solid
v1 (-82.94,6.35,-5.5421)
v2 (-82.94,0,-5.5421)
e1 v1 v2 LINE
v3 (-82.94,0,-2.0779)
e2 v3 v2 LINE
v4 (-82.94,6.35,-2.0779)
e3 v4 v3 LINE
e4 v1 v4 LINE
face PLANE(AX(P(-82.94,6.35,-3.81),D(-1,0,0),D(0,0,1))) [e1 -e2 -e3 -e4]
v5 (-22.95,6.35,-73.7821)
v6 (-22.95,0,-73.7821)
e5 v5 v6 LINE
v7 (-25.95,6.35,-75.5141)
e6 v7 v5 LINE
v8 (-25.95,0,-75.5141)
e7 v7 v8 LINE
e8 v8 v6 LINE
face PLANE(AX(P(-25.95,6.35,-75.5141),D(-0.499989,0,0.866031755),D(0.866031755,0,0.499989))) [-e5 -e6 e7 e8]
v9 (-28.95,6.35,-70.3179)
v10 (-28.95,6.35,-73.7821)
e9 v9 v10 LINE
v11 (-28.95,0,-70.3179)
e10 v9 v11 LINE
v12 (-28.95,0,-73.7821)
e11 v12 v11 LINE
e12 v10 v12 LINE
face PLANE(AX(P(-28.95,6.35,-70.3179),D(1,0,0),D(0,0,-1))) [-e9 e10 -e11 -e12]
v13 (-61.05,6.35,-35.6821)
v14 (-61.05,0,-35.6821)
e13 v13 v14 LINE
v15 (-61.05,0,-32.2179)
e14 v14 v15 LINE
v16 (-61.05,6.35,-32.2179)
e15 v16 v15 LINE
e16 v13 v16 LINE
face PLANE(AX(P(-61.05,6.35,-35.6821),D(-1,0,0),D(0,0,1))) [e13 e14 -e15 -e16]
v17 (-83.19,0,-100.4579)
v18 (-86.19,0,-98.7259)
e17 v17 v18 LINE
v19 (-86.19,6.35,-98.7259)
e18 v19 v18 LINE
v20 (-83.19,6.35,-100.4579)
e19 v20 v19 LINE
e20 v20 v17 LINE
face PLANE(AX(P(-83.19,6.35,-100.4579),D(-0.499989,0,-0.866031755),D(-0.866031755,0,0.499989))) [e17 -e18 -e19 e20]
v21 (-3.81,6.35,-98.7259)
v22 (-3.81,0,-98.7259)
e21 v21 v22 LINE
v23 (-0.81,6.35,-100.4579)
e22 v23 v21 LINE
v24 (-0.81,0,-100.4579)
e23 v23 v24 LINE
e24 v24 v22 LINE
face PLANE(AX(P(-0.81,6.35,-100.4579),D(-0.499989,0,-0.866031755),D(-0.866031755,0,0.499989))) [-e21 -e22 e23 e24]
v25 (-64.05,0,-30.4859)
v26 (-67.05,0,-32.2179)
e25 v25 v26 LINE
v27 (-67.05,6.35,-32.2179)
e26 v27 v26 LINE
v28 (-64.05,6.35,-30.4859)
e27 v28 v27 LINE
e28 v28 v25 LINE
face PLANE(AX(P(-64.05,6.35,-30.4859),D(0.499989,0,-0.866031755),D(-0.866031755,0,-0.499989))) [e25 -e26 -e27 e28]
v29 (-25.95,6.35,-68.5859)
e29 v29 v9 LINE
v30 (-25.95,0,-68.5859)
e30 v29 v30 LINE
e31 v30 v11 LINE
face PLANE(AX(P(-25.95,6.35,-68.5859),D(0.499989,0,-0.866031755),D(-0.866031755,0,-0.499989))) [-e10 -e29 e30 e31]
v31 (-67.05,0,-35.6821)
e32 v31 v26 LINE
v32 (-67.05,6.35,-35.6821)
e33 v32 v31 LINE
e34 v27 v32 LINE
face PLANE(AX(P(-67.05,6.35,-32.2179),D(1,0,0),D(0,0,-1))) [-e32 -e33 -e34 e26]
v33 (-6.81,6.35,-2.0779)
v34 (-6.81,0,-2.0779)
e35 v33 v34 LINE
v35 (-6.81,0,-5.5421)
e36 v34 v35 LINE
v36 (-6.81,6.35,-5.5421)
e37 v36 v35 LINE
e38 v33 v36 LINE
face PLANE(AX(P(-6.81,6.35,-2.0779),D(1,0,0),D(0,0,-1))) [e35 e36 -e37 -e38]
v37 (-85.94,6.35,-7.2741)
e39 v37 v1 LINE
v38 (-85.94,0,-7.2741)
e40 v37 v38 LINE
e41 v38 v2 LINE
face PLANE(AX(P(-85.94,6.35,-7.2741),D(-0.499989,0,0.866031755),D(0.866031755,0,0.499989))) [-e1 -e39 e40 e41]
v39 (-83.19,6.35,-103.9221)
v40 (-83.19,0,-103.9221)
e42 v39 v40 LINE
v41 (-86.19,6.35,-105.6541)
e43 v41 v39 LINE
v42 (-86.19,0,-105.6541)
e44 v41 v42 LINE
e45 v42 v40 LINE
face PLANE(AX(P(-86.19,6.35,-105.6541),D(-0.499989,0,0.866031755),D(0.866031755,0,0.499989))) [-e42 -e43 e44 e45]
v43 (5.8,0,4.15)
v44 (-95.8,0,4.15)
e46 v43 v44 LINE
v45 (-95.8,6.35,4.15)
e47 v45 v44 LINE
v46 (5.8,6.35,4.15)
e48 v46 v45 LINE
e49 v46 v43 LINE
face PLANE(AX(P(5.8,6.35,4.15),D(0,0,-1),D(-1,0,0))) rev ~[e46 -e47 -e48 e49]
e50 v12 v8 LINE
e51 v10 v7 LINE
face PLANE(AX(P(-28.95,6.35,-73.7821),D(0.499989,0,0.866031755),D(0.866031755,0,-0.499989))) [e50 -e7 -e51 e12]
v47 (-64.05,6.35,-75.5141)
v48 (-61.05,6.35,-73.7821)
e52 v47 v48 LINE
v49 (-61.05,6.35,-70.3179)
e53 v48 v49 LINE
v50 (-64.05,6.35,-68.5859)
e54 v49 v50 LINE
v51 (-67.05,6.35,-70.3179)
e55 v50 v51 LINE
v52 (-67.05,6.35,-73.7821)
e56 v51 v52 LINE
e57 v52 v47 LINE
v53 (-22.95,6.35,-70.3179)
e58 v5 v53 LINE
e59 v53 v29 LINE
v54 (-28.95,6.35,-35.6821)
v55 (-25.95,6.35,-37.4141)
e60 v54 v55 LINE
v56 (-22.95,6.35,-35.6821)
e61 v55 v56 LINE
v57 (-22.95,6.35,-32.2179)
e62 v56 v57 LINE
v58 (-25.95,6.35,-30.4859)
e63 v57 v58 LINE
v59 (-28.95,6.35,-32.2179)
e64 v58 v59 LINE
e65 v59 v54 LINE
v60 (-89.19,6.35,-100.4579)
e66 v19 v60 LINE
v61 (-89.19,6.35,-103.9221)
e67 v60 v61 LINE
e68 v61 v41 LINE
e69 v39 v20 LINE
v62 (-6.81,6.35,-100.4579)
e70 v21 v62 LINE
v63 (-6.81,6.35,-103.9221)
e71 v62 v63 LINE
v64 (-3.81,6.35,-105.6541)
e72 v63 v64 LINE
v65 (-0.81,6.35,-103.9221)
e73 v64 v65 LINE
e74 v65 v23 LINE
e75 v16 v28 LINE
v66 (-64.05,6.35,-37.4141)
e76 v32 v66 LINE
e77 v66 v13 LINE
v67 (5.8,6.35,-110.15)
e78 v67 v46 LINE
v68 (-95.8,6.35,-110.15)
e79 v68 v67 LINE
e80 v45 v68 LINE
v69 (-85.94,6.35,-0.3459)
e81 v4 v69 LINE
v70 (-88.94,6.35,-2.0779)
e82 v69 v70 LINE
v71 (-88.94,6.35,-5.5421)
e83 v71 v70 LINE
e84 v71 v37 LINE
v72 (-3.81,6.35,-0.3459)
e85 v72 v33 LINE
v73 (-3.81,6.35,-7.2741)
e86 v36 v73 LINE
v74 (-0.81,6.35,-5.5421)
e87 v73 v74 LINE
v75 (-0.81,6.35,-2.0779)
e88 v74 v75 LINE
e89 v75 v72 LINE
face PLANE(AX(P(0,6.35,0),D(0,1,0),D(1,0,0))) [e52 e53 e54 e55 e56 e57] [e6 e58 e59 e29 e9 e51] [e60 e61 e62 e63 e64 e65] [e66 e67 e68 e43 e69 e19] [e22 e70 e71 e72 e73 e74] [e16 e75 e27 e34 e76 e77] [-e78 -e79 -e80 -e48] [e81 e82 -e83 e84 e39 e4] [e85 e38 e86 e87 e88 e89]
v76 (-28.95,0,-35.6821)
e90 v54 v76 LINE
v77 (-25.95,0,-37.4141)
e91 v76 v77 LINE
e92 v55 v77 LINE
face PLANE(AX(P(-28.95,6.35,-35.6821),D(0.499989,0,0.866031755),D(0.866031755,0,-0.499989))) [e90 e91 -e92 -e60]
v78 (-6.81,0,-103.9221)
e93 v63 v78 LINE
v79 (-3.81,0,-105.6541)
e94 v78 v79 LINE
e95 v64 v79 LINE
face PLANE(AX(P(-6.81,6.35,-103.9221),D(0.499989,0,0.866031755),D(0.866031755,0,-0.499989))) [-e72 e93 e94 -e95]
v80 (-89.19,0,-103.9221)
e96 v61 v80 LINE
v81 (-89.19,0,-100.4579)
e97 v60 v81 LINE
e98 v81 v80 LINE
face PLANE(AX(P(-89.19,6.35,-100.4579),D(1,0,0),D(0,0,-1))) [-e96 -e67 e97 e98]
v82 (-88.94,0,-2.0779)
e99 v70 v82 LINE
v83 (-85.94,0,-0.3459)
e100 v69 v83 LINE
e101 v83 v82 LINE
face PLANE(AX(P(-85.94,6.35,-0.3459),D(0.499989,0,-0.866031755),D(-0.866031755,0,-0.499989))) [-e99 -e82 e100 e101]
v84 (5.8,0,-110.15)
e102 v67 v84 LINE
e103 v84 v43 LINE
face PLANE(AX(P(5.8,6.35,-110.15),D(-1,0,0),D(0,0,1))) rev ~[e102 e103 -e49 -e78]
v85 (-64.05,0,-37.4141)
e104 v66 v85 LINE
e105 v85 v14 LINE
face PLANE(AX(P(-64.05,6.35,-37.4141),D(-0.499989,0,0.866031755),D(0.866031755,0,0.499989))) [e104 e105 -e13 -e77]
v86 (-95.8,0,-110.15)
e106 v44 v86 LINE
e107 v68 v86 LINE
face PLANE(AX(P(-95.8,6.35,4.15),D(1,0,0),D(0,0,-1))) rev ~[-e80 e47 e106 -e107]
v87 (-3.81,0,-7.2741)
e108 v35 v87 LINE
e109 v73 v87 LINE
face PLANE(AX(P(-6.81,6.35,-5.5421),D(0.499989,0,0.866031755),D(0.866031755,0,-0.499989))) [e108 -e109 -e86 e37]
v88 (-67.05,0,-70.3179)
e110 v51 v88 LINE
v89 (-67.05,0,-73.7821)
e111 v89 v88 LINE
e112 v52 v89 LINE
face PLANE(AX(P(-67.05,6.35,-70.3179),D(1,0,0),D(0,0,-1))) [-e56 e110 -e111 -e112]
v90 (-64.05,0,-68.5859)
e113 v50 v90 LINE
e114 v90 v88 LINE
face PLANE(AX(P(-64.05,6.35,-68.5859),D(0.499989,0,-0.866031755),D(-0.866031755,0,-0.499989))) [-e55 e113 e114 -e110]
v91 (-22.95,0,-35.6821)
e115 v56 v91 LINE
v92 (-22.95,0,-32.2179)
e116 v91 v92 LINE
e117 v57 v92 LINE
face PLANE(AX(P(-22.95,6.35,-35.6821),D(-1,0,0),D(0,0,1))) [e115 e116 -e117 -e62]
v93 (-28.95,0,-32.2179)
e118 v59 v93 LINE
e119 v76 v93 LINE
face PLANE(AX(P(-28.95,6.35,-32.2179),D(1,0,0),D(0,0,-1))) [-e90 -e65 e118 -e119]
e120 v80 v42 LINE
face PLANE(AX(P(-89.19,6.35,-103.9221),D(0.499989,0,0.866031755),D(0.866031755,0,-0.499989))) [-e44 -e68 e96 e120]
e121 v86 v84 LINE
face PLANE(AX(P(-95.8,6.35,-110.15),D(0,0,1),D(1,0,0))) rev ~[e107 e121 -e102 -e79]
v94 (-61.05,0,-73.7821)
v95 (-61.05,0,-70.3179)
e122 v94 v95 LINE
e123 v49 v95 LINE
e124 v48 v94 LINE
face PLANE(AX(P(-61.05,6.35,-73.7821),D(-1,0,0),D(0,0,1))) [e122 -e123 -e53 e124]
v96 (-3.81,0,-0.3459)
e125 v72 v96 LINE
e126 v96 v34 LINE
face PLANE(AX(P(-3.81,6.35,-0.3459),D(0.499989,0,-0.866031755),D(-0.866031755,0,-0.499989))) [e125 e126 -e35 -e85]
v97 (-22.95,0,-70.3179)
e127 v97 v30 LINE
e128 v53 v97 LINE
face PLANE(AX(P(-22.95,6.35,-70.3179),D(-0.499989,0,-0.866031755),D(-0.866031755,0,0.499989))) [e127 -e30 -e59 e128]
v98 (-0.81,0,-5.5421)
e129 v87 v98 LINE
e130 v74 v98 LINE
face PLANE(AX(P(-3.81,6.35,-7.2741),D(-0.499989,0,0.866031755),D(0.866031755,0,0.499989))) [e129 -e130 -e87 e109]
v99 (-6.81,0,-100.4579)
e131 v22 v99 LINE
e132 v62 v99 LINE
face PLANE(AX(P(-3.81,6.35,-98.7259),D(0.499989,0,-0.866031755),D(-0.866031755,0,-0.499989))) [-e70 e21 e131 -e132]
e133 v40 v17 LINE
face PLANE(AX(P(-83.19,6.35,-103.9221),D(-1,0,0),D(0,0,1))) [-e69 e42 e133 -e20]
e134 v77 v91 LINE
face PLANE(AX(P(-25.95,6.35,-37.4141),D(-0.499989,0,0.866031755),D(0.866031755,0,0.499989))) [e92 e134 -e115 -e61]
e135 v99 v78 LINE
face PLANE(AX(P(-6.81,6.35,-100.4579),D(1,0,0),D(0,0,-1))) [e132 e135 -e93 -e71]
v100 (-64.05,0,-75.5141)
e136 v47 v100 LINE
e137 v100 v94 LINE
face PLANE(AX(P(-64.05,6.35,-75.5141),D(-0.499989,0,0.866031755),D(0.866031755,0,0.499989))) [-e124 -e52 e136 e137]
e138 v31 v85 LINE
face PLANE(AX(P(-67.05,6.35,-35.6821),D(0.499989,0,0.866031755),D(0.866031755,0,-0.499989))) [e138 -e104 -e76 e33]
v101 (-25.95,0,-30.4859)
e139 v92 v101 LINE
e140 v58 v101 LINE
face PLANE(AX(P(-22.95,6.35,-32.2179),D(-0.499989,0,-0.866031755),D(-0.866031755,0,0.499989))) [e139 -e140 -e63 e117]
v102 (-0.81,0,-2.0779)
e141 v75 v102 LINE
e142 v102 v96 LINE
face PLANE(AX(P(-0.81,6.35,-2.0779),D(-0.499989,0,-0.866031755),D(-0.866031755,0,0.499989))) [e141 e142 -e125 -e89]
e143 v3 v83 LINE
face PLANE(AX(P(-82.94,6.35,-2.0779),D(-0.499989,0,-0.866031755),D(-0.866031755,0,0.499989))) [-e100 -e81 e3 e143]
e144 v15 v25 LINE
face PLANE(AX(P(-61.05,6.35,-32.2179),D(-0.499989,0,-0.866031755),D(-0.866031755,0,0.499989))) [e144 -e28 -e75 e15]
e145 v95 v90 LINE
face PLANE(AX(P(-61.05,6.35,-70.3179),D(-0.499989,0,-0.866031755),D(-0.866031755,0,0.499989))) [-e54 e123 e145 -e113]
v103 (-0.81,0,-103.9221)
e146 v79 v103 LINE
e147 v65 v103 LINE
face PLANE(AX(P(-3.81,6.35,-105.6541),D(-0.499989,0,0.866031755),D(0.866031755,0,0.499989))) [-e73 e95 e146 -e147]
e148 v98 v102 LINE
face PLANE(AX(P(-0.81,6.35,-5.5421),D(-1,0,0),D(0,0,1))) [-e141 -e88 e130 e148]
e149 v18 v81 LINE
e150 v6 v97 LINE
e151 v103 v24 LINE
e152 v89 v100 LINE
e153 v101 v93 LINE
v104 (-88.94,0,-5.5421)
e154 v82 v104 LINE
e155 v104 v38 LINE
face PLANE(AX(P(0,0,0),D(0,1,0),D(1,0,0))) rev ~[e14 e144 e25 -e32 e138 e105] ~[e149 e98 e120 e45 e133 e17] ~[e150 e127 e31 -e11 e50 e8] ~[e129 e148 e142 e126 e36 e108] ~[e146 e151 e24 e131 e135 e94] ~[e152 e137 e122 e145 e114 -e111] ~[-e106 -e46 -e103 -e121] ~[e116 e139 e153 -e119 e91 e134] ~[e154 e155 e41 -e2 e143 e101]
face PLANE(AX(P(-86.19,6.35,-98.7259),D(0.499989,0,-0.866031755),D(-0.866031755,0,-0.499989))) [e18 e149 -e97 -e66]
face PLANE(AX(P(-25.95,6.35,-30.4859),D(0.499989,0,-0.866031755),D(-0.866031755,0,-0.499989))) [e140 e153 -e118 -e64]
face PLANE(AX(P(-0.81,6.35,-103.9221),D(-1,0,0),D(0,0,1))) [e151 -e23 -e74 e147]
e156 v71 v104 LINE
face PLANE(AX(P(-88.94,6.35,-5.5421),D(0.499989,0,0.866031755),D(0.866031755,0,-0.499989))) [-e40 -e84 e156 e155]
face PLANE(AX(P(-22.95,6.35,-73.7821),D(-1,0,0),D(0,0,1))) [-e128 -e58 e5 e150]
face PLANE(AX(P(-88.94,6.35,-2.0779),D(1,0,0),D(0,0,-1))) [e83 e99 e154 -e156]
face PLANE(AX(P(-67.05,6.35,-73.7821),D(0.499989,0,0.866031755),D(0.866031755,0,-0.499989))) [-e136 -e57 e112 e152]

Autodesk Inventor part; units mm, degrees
ref_plane "YZ Plane" through (0, 0, 0) normal (1, 0, 0) x (0, 1, 0)
ref_plane "XZ Plane" through (0, 0, 0) normal (0, 1, 0) x (-1, 0, 0)
ref_plane "XY Plane" through (0, 0, 0) normal (0, 0, 1) x (1, 0, 0)
sketch "Sketch1" plane through (0, 0, 0) normal (0, 1, 0) x (-1, 0, 0)
  line L0 (0, 0) -> (90, 0)
  line L1 (90, 0) -> (90, -106)
  line L2 (90, -106) -> (0, -106)
  line L3 (0, -106) -> (0, 0)
  dimension "d0" = 106
  dimension "d1" = 90
extrude "Extrusion1" add sketch "Sketch1" along normal blind 6.35
sketch "Sketch2" plane through (0, 6.35, 0) normal (0, 1, 0) x (1, 0, 0)
  point P0 (0, 0)
sketch "Sketch3" plane through (0, 6.35, 0) normal (0, 1, 0) x (1, 0, 0)
  line L0 (-90, 0) -> (0, 0) projected
  line L1 (0, 0) -> (0, 106) projected
  line L2 (-90, 0) -> (0, 0)
  line L3 (0, 0) -> (0, 106)
  line L4 (0, 106) -> (-90, 106)
  line L5 (-85.94, 3.81) -> (-3.81, 3.81)
  line L6 (-3.81, 3.81) -> (-3.81, 102.19)
  line L7 (-3.81, 102.19) -> (-86.19, 102.19)
  line L8 (-85.94, 3.81) -> (-88.94, 3.81)
  line L9 (-88.94, 5.5421) -> (-85.94, 7.2741)
  line L10 (-85.94, 7.2741) -> (-82.94, 5.5421)
  line L11 (-82.94, 5.5421) -> (-82.94, 2.0779)
  line L12 (-82.94, 2.0779) -> (-85.94, 0.3459)
  line L13 (-85.94, 0.3459) -> (-88.94, 2.0779)
  line L14 (-88.94, 2.0779) -> (-88.94, 5.5421)
  line L15 (-85.69, 102.19) -> (-88.69, 102.19)
  line L16 (-88.69, 103.6334) -> (-86.19, 105.0768)
  line L17 (-86.19, 105.0768) -> (-83.69, 103.6334)
  line L18 (-83.69, 103.6334) -> (-83.69, 100.7466)
  line L19 (-83.69, 100.7466) -> (-86.19, 99.3032)
  line L20 (-86.19, 99.3032) -> (-88.69, 100.7466)
  line L21 (-88.69, 100.7466) -> (-88.69, 103.6334)
  line L22 (-3.31, 102.19) -> (-6.31, 102.19)
  line L23 (-6.31, 103.6334) -> (-3.81, 105.0768)
  line L24 (-3.81, 105.0768) -> (-1.31, 103.6334)
  line L25 (-1.31, 103.6334) -> (-1.31, 100.7466)
  line L26 (-1.31, 100.7466) -> (-3.81, 99.3032)
  line L27 (-3.81, 99.3032) -> (-6.31, 100.7466)
  line L28 (-6.31, 100.7466) -> (-6.31, 103.6334)
  line L29 (-3.31, 3.81) -> (-6.31, 3.81)
  line L30 (-6.31, 5.2534) -> (-3.81, 6.6968)
  line L31 (-3.81, 6.6968) -> (-1.31, 5.2534)
  line L32 (-1.31, 5.2534) -> (-1.31, 2.3666)
  line L33 (-1.31, 2.3666) -> (-3.81, 0.9232)
  line L34 (-3.81, 0.9232) -> (-6.31, 2.3666)
  line L35 (-6.31, 2.3666) -> (-6.31, 5.2534)
  dimension "d5" = 3
  dimension "d6" = 3
  dimension "d7" = 3
  dimension "d8" = 3
extrude "Extrusion2" cut sketch "Sketch3" against normal blind 6.35
sketch "Sketch4" plane through (0, 6.35, 0) normal (0, 1, 0) x (1, 0, 0)
  line L0 (0, 0) -> (-90, 0) projected
  line L1 (-45, 0) -> (-45, 106)
  line L2 (0, 106) -> (-90, 106) projected
  line L3 (5.8, -4.15) -> (-95.8, -4.15)
  line L4 (-95.8, -4.15) -> (-95.8, 110.15)
  line L5 (-95.8, 110.15) -> (5.8, 110.15)
  line L6 (5.8, 110.15) -> (5.8, -4.15)
  line L7 (5.8, -4.15) -> (-95.8, 110.15) construction
  line L8 (-95.8, -4.15) -> (5.8, 110.15) construction
  line L9 (-90, 0) -> (0, 0)
  line L10 (0, 0) -> (0, 106)
  line L11 (0, 106) -> (-90, 106)
  line L12 (-90, 106) -> (-90, 0)
  point P0 (-45, 53)
  dimension "d11" = 101.6
  dimension "d12" = 114.3
extrude "Extrusion3" add sketch "Sketch4" against normal blind 6.35
sketch "Sketch5" plane through (0, 6.35, 0) normal (0, 1, 0) x (1, 0, 0)
  line L0 (-90, 0) -> (0, 0)
  line L1 (0, 0) -> (0, 106)
  line L2 (-90, 0) -> (0, 0)
  line L3 (0, 0) -> (0, 106)
  line L4 (0, 106) -> (-90, 106)
  line L5 (-85.94, 3.81) -> (-3.81, 3.81)
  line L6 (-3.81, 3.81) -> (-3.81, 102.19)
  line L7 (-3.81, 102.19) -> (-86.19, 102.19)
  line L8 (-85.94, 3.81) -> (-88.94, 3.81)
  line L9 (-88.94, 5.5421) -> (-85.94, 7.2741)
  line L10 (-85.94, 7.2741) -> (-82.94, 5.5421)
  line L11 (-82.94, 5.5421) -> (-82.94, 2.0779)
  line L12 (-82.94, 2.0779) -> (-85.94, 0.3459)
  line L13 (-85.94, 0.3459) -> (-88.94, 2.0779)
  line L14 (-88.94, 2.0779) -> (-88.94, 5.5421)
  line L15 (-86.19, 99.3032) -> (-88.69, 100.7466)
  line L16 (-83.69, 100.7466) -> (-86.19, 99.3032)
  line L17 (-86.19, 102.19) -> (-88.69, 102.19)
  line L18 (-88.69, 100.7466) -> (-88.69, 103.6334)
  line L19 (-88.69, 103.6334) -> (-86.19, 105.0768)
  line L20 (-86.19, 105.0768) -> (-83.69, 103.6334)
  line L21 (-83.69, 103.6334) -> (-83.69, 100.7466)
  line L22 (-3.81, 99.3032) -> (-6.31, 100.7466)
  line L23 (-1.31, 100.7466) -> (-3.81, 99.3032)
  line L24 (-3.81, 102.19) -> (-6.31, 102.19)
  line L25 (-6.31, 100.7466) -> (-6.31, 103.6334)
  line L26 (-6.31, 103.6334) -> (-3.81, 105.0768)
  line L27 (-3.81, 105.0768) -> (-1.31, 103.6334)
  line L28 (-1.31, 103.6334) -> (-1.31, 100.7466)
  line L29 (-3.81, 0.9232) -> (-6.31, 2.3666)
  line L30 (-1.31, 2.3666) -> (-3.81, 0.9232)
  line L31 (-3.81, 3.81) -> (-6.31, 3.81)
  line L32 (-6.31, 2.3666) -> (-6.31, 5.2534)
  line L33 (-6.31, 5.2534) -> (-3.81, 6.6968)
  line L34 (-3.81, 6.6968) -> (-1.31, 5.2534)
  line L35 (-1.31, 5.2534) -> (-1.31, 2.3666)
  line L36 (5.8, -4.15) -> (-95.8, -4.15) projected
  line L37 (-45, -4.15) -> (-45, 110.15)
  line L38 (-95.8, 110.15) -> (5.8, 110.15) projected
  line L39 (-25.95, 33.95) -> (-64.05, 33.95)
  line L40 (-64.05, 33.95) -> (-64.05, 72.05)
  line L41 (-64.05, 72.05) -> (-25.95, 72.05)
  line L42 (-25.95, 72.05) -> (-25.95, 33.95)
  line L43 (-25.95, 33.95) -> (-64.05, 72.05) construction
  line L44 (-64.05, 33.95) -> (-25.95, 72.05) construction
  line L45 (-63.55, 33.95) -> (-66.55, 33.95)
  line L46 (-66.55, 35.3934) -> (-64.05, 36.8368)
  line L47 (-64.05, 36.8368) -> (-61.55, 35.3934)
  line L48 (-61.55, 35.3934) -> (-61.55, 32.5066)
  line L49 (-61.55, 32.5066) -> (-64.05, 31.0632)
  line L50 (-64.05, 31.0632) -> (-66.55, 32.5066)
  line L51 (-66.55, 32.5066) -> (-66.55, 35.3934)
  line L52 (-63.55, 72.05) -> (-66.55, 72.05)
  line L53 (-66.55, 73.4934) -> (-64.05, 74.9368)
  line L54 (-64.05, 74.9368) -> (-61.55, 73.4934)
  line L55 (-61.55, 73.4934) -> (-61.55, 70.6066)
  line L56 (-61.55, 70.6066) -> (-64.05, 69.1632)
  line L57 (-64.05, 69.1632) -> (-66.55, 70.6066)
  line L58 (-66.55, 70.6066) -> (-66.55, 73.4934)
  line L59 (-25.45, 33.95) -> (-28.45, 33.95)
  line L60 (-28.45, 35.3934) -> (-25.95, 36.8368)
  line L61 (-25.95, 36.8368) -> (-23.45, 35.3934)
  line L62 (-23.45, 35.3934) -> (-23.45, 32.5066)
  line L63 (-23.45, 32.5066) -> (-25.95, 31.0632)
  line L64 (-25.95, 31.0632) -> (-28.45, 32.5066)
  line L65 (-28.45, 32.5066) -> (-28.45, 35.3934)
  line L66 (-25.45, 72.05) -> (-28.45, 72.05)
  line L67 (-28.45, 73.4934) -> (-25.95, 74.9368)
  line L68 (-25.95, 74.9368) -> (-23.45, 73.4934)
  line L69 (-23.45, 73.4934) -> (-23.45, 70.6066)
  line L70 (-23.45, 70.6066) -> (-25.95, 69.1632)
  line L71 (-25.95, 69.1632) -> (-28.45, 70.6066)
  line L72 (-28.45, 70.6066) -> (-28.45, 73.4934)
  point P0 (-45, 53)
  dimension "d15" = 3
  dimension "d16" = 2.5
  dimension "d17" = 2.5
  dimension "d18" = 2.5
  dimension "d19" = 38.1
  dimension "d20" = 38.1
  dimension "d21" = 3
  dimension "d22" = 3
  dimension "d23" = 3
  dimension "d24" = 3
extrude "Extrusion4" cut sketch "Sketch5" against normal blind 6.35 contours L65 L60 L42 L39 | L39 L42 L61 L62 L63 L64 L65 | L48 L49 L50 L51 L45 L39 | L39 L40 L47 L48 | L55 L56 L40 L41 | L41 L52 L58 L53 L54 L55 | L72 L67 L68 L69 L70 L42 L41 | L41 L42 L71 L72 | L45 L51 L46 L40 | L40 L57 L58 L52
sketch "Sketch6" plane through (0, 6.35, 0) normal (0, 1, 0) x (1, 0, 0)
  point P0 (0, 0)
sketch "Sketch7" plane through (0, 6.35, 0) normal (0, 1, 0) x (1, 0, 0)
  line L0 (-64.05, 33.95) -> (-67.05, 33.95)
  line L1 (-67.05, 35.6821) -> (-64.05, 37.4141)
  line L2 (-64.05, 37.4141) -> (-61.05, 35.6821)
  line L3 (-61.05, 35.6821) -> (-61.05, 32.2179)
  line L4 (-61.05, 32.2179) -> (-64.05, 30.4859)
  line L5 (-64.05, 30.4859) -> (-67.05, 32.2179)
  line L6 (-67.05, 32.2179) -> (-67.05, 35.6821)
  line L7 (-64.05, 69.1632) -> (-66.55, 70.6066) projected
  line L8 (-64.05, 74.9368) -> (-61.55, 73.4934) projected
  line L9 (-25.95, 31.0632) -> (-23.45, 32.5066) projected
  line L10 (-23.45, 35.3934) -> (-25.95, 36.8368) projected
  line L11 (-28.45, 70.6066) -> (-25.95, 69.1632) projected
  line L12 (-61.55, 70.6066) -> (-64.05, 69.1632) projected
  line L13 (-64.05, 69.1632) -> (-64.05, 72.05)
  line L14 (-28.45, 32.5066) -> (-25.95, 31.0632) projected
  line L15 (-25.95, 31.0632) -> (-25.95, 33.95)
  line L16 (-25.95, 69.1632) -> (-25.95, 72.05)
  line L17 (-64.05, 72.05) -> (-67.05, 72.05)
  line L18 (-67.05, 73.7821) -> (-64.05, 75.5141)
  line L19 (-64.05, 75.5141) -> (-61.05, 73.7821)
  line L20 (-61.05, 73.7821) -> (-61.05, 70.3179)
  line L21 (-61.05, 70.3179) -> (-64.05, 68.5859)
  line L22 (-64.05, 68.5859) -> (-67.05, 70.3179)
  line L23 (-67.05, 70.3179) -> (-67.05, 73.7821)
  line L24 (-25.95, 72.05) -> (-28.95, 72.05)
  line L25 (-28.95, 73.7821) -> (-25.95, 75.5141)
  line L26 (-25.95, 75.5141) -> (-22.95, 73.7821)
  line L27 (-22.95, 73.7821) -> (-22.95, 70.3179)
  line L28 (-22.95, 70.3179) -> (-25.95, 68.5859)
  line L29 (-25.95, 68.5859) -> (-28.95, 70.3179)
  line L30 (-28.95, 70.3179) -> (-28.95, 73.7821)
  line L31 (-25.95, 33.95) -> (-28.95, 33.95)
  line L32 (-28.95, 35.6821) -> (-25.95, 37.4141)
  line L33 (-25.95, 37.4141) -> (-22.95, 35.6821)
  line L34 (-22.95, 35.6821) -> (-22.95, 32.2179)
  line L35 (-22.95, 32.2179) -> (-25.95, 30.4859)
  line L36 (-25.95, 30.4859) -> (-28.95, 32.2179)
  line L37 (-28.95, 32.2179) -> (-28.95, 35.6821)
  line L38 (-85.94, 7.2741) -> (-82.94, 5.5421) projected
  line L39 (-85.94, 0.3459) -> (-85.94, 7.2741)
  line L40 (-85.94, 3.81) -> (-88.94, 3.81)
  line L41 (-88.94, 5.5421) -> (-88.94, 2.0779) projected
  line L42 (-85.94, 3.81) -> (-88.94, 3.81)
  line L43 (-88.94, 5.5421) -> (-85.94, 7.2741)
  line L44 (-85.94, 7.2741) -> (-82.94, 5.5421)
  line L45 (-82.94, 5.5421) -> (-82.94, 2.0779)
  line L46 (-82.94, 2.0779) -> (-85.94, 0.3459)
  line L47 (-85.94, 0.3459) -> (-88.94, 2.0779)
  line L48 (-88.94, 2.0779) -> (-88.94, 5.5421)
  line L49 (-3.81, 0.9232) -> (-1.31, 2.3666) projected
  line L50 (-3.81, 0.9232) -> (-3.81, 3.81)
  line L51 (-1.31, 100.7466) -> (-3.81, 99.3032) projected
  line L52 (-3.81, 105.0768) -> (-6.31, 103.6334) projected
  line L53 (-3.81, 99.3032) -> (-3.81, 102.19)
  line L54 (-3.81, 102.19) -> (-6.81, 102.19)
  line L55 (-6.81, 103.9221) -> (-3.81, 105.6541)
  line L56 (-3.81, 105.6541) -> (-0.81, 103.9221)
  line L57 (-0.81, 103.9221) -> (-0.81, 100.4579)
  line L58 (-0.81, 100.4579) -> (-3.81, 98.7259)
  line L59 (-3.81, 98.7259) -> (-6.81, 100.4579)
  line L60 (-6.81, 100.4579) -> (-6.81, 103.9221)
  line L61 (-3.81, 3.81) -> (-6.81, 3.81)
  line L62 (-6.81, 5.5421) -> (-3.81, 7.2741)
  line L63 (-3.81, 7.2741) -> (-0.81, 5.5421)
  line L64 (-0.81, 5.5421) -> (-0.81, 2.0779)
  line L65 (-0.81, 2.0779) -> (-3.81, 0.3459)
  line L66 (-3.81, 0.3459) -> (-6.81, 2.0779)
  line L67 (-6.81, 2.0779) -> (-6.81, 5.5421)
  point P0 (0, 0)
  point P1 (-64.05, 36.8368)
  point P2 (-3.81, 6.6968)
extrude "Extrusion5" cut sketch "Sketch7" against normal blind 6.35 contours L1 L2 L3 L4 L5 L6 | L18 L19 L20 L21 L22 L23 | L25 L26 L27 L28 L29 L30 | L32 L33 L34 L35 L36 L37
sketch "Sketch8" plane through (0, 6.35, 0) normal (0, 1, 0) x (1, 0, 0)
  line L0 (-64.05, 33.95) -> (-67.05, 33.95)
  line L1 (-67.05, 35.6821) -> (-64.05, 37.4141)
  line L2 (-64.05, 37.4141) -> (-61.05, 35.6821)
  line L3 (-61.05, 35.6821) -> (-61.05, 32.2179)
  line L4 (-61.05, 32.2179) -> (-64.05, 30.4859)
  line L5 (-64.05, 30.4859) -> (-67.05, 32.2179)
  line L6 (-67.05, 32.2179) -> (-67.05, 35.6821)
  line L7 (-25.95, 31.0632) -> (-23.45, 32.5066)
  line L8 (-23.45, 35.3934) -> (-25.95, 36.8368)
  line L9 (-28.45, 70.6066) -> (-25.95, 69.1632)
  line L10 (-64.05, 69.1632) -> (-64.05, 72.05)
  line L11 (-28.45, 32.5066) -> (-25.95, 31.0632)
  line L12 (-25.95, 31.0632) -> (-25.95, 33.95)
  line L13 (-25.95, 69.1632) -> (-25.95, 72.05)
  line L14 (-64.05, 72.05) -> (-67.05, 72.05)
  line L15 (-61.05, 73.7821) -> (-61.05, 70.3179)
  line L16 (-64.05, 75.5141) -> (-61.05, 73.7821)
  line L17 (-61.05, 70.3179) -> (-64.05, 68.5859)
  line L18 (-67.05, 73.7821) -> (-64.05, 75.5141)
  line L19 (-67.05, 70.3179) -> (-67.05, 73.7821)
  line L20 (-64.05, 68.5859) -> (-67.05, 70.3179)
  line L21 (-25.95, 72.05) -> (-28.95, 72.05)
  line L22 (-22.95, 73.7821) -> (-22.95, 70.3179)
  line L23 (-25.95, 75.5141) -> (-22.95, 73.7821)
  line L24 (-22.95, 70.3179) -> (-25.95, 68.5859)
  line L25 (-28.95, 73.7821) -> (-25.95, 75.5141)
  line L26 (-28.95, 70.3179) -> (-28.95, 73.7821)
  line L27 (-25.95, 68.5859) -> (-28.95, 70.3179)
  line L28 (-25.95, 33.95) -> (-28.95, 33.95)
  line L29 (-22.95, 35.6821) -> (-22.95, 32.2179)
  line L30 (-25.95, 37.4141) -> (-22.95, 35.6821)
  line L31 (-22.95, 32.2179) -> (-25.95, 30.4859)
  line L32 (-28.95, 35.6821) -> (-25.95, 37.4141)
  line L33 (-28.95, 32.2179) -> (-28.95, 35.6821)
  line L34 (-25.95, 30.4859) -> (-28.95, 32.2179)
  line L35 (-85.94, 7.2741) -> (-82.94, 5.5421)
  line L36 (-85.94, 0.3459) -> (-85.94, 7.2741)
  line L37 (-85.94, 3.81) -> (-88.94, 3.81)
  line L38 (-88.94, 5.5421) -> (-88.94, 2.0779)
  line L39 (-85.94, 3.81) -> (-88.94, 3.81)
  line L40 (-88.94, 5.5421) -> (-85.94, 7.2741)
  line L41 (-85.94, 7.2741) -> (-82.94, 5.5421)
  line L42 (-82.94, 5.5421) -> (-82.94, 2.0779)
  line L43 (-82.94, 2.0779) -> (-85.94, 0.3459)
  line L44 (-85.94, 0.3459) -> (-88.94, 2.0779)
  line L45 (-88.94, 2.0779) -> (-88.94, 5.5421)
  line L46 (-3.81, 0.9232) -> (-1.31, 2.3666)
  line L47 (-3.81, 0.9232) -> (-3.81, 3.81)
  line L48 (-1.31, 100.7466) -> (-3.81, 99.3032)
  line L49 (-3.81, 105.0768) -> (-6.31, 103.6334)
  line L50 (-3.81, 99.3032) -> (-3.81, 102.19)
  line L51 (-3.81, 102.19) -> (-6.81, 102.19)
  line L52 (-0.81, 103.9221) -> (-0.81, 100.4579)
  line L53 (-0.81, 100.4579) -> (-3.81, 98.7259)
  line L54 (-3.81, 105.6541) -> (-0.81, 103.9221)
  line L55 (-6.81, 103.9221) -> (-3.81, 105.6541)
  line L56 (-6.81, 100.4579) -> (-6.81, 103.9221)
  line L57 (-3.81, 98.7259) -> (-6.81, 100.4579)
  line L58 (-3.81, 3.81) -> (-6.81, 3.81)
  line L59 (-0.81, 5.5421) -> (-0.81, 2.0779)
  line L60 (-0.81, 2.0779) -> (-3.81, 0.3459)
  line L61 (-3.81, 7.2741) -> (-0.81, 5.5421)
  line L62 (-6.81, 5.5421) -> (-3.81, 7.2741)
  line L63 (-6.81, 2.0779) -> (-6.81, 5.5421)
  line L64 (-3.81, 0.3459) -> (-6.81, 2.0779)
  line L65 (-67.05, 70.3179) -> (-64.05, 68.5859) projected
  line L66 (-64.05, 69.1632) -> (-64.05, 68.5859)
  line L67 (-86.19, 99.3032) -> (-83.69, 100.7466) projected
  line L68 (-86.19, 105.0768) -> (-86.19, 102.19)
  line L69 (-83.69, 100.7466) -> (-86.19, 99.3032)
  line L70 (-86.19, 105.0768) -> (-88.69, 103.6334)
  line L71 (-86.19, 99.3032) -> (-86.19, 102.19)
  line L72 (-86.19, 102.19) -> (-89.19, 102.19)
  line L73 (-83.19, 103.9221) -> (-83.19, 100.4579)
  line L74 (-83.19, 100.4579) -> (-86.19, 98.7259)
  line L75 (-86.19, 105.6541) -> (-83.19, 103.9221)
  line L76 (-89.19, 103.9221) -> (-86.19, 105.6541)
  line L77 (-89.19, 100.4579) -> (-89.19, 103.9221)
  line L78 (-86.19, 98.7259) -> (-89.19, 100.4579)
  point P0 (0, 0)
  point P1 (0, 0)
  point P2 (-64.05, 36.8368)
  point P3 (-3.81, 6.6968)
extrude "Extrusion6" cut sketch "Sketch8" against normal blind 25.4
properties part number "jetson nano mounting plate"
